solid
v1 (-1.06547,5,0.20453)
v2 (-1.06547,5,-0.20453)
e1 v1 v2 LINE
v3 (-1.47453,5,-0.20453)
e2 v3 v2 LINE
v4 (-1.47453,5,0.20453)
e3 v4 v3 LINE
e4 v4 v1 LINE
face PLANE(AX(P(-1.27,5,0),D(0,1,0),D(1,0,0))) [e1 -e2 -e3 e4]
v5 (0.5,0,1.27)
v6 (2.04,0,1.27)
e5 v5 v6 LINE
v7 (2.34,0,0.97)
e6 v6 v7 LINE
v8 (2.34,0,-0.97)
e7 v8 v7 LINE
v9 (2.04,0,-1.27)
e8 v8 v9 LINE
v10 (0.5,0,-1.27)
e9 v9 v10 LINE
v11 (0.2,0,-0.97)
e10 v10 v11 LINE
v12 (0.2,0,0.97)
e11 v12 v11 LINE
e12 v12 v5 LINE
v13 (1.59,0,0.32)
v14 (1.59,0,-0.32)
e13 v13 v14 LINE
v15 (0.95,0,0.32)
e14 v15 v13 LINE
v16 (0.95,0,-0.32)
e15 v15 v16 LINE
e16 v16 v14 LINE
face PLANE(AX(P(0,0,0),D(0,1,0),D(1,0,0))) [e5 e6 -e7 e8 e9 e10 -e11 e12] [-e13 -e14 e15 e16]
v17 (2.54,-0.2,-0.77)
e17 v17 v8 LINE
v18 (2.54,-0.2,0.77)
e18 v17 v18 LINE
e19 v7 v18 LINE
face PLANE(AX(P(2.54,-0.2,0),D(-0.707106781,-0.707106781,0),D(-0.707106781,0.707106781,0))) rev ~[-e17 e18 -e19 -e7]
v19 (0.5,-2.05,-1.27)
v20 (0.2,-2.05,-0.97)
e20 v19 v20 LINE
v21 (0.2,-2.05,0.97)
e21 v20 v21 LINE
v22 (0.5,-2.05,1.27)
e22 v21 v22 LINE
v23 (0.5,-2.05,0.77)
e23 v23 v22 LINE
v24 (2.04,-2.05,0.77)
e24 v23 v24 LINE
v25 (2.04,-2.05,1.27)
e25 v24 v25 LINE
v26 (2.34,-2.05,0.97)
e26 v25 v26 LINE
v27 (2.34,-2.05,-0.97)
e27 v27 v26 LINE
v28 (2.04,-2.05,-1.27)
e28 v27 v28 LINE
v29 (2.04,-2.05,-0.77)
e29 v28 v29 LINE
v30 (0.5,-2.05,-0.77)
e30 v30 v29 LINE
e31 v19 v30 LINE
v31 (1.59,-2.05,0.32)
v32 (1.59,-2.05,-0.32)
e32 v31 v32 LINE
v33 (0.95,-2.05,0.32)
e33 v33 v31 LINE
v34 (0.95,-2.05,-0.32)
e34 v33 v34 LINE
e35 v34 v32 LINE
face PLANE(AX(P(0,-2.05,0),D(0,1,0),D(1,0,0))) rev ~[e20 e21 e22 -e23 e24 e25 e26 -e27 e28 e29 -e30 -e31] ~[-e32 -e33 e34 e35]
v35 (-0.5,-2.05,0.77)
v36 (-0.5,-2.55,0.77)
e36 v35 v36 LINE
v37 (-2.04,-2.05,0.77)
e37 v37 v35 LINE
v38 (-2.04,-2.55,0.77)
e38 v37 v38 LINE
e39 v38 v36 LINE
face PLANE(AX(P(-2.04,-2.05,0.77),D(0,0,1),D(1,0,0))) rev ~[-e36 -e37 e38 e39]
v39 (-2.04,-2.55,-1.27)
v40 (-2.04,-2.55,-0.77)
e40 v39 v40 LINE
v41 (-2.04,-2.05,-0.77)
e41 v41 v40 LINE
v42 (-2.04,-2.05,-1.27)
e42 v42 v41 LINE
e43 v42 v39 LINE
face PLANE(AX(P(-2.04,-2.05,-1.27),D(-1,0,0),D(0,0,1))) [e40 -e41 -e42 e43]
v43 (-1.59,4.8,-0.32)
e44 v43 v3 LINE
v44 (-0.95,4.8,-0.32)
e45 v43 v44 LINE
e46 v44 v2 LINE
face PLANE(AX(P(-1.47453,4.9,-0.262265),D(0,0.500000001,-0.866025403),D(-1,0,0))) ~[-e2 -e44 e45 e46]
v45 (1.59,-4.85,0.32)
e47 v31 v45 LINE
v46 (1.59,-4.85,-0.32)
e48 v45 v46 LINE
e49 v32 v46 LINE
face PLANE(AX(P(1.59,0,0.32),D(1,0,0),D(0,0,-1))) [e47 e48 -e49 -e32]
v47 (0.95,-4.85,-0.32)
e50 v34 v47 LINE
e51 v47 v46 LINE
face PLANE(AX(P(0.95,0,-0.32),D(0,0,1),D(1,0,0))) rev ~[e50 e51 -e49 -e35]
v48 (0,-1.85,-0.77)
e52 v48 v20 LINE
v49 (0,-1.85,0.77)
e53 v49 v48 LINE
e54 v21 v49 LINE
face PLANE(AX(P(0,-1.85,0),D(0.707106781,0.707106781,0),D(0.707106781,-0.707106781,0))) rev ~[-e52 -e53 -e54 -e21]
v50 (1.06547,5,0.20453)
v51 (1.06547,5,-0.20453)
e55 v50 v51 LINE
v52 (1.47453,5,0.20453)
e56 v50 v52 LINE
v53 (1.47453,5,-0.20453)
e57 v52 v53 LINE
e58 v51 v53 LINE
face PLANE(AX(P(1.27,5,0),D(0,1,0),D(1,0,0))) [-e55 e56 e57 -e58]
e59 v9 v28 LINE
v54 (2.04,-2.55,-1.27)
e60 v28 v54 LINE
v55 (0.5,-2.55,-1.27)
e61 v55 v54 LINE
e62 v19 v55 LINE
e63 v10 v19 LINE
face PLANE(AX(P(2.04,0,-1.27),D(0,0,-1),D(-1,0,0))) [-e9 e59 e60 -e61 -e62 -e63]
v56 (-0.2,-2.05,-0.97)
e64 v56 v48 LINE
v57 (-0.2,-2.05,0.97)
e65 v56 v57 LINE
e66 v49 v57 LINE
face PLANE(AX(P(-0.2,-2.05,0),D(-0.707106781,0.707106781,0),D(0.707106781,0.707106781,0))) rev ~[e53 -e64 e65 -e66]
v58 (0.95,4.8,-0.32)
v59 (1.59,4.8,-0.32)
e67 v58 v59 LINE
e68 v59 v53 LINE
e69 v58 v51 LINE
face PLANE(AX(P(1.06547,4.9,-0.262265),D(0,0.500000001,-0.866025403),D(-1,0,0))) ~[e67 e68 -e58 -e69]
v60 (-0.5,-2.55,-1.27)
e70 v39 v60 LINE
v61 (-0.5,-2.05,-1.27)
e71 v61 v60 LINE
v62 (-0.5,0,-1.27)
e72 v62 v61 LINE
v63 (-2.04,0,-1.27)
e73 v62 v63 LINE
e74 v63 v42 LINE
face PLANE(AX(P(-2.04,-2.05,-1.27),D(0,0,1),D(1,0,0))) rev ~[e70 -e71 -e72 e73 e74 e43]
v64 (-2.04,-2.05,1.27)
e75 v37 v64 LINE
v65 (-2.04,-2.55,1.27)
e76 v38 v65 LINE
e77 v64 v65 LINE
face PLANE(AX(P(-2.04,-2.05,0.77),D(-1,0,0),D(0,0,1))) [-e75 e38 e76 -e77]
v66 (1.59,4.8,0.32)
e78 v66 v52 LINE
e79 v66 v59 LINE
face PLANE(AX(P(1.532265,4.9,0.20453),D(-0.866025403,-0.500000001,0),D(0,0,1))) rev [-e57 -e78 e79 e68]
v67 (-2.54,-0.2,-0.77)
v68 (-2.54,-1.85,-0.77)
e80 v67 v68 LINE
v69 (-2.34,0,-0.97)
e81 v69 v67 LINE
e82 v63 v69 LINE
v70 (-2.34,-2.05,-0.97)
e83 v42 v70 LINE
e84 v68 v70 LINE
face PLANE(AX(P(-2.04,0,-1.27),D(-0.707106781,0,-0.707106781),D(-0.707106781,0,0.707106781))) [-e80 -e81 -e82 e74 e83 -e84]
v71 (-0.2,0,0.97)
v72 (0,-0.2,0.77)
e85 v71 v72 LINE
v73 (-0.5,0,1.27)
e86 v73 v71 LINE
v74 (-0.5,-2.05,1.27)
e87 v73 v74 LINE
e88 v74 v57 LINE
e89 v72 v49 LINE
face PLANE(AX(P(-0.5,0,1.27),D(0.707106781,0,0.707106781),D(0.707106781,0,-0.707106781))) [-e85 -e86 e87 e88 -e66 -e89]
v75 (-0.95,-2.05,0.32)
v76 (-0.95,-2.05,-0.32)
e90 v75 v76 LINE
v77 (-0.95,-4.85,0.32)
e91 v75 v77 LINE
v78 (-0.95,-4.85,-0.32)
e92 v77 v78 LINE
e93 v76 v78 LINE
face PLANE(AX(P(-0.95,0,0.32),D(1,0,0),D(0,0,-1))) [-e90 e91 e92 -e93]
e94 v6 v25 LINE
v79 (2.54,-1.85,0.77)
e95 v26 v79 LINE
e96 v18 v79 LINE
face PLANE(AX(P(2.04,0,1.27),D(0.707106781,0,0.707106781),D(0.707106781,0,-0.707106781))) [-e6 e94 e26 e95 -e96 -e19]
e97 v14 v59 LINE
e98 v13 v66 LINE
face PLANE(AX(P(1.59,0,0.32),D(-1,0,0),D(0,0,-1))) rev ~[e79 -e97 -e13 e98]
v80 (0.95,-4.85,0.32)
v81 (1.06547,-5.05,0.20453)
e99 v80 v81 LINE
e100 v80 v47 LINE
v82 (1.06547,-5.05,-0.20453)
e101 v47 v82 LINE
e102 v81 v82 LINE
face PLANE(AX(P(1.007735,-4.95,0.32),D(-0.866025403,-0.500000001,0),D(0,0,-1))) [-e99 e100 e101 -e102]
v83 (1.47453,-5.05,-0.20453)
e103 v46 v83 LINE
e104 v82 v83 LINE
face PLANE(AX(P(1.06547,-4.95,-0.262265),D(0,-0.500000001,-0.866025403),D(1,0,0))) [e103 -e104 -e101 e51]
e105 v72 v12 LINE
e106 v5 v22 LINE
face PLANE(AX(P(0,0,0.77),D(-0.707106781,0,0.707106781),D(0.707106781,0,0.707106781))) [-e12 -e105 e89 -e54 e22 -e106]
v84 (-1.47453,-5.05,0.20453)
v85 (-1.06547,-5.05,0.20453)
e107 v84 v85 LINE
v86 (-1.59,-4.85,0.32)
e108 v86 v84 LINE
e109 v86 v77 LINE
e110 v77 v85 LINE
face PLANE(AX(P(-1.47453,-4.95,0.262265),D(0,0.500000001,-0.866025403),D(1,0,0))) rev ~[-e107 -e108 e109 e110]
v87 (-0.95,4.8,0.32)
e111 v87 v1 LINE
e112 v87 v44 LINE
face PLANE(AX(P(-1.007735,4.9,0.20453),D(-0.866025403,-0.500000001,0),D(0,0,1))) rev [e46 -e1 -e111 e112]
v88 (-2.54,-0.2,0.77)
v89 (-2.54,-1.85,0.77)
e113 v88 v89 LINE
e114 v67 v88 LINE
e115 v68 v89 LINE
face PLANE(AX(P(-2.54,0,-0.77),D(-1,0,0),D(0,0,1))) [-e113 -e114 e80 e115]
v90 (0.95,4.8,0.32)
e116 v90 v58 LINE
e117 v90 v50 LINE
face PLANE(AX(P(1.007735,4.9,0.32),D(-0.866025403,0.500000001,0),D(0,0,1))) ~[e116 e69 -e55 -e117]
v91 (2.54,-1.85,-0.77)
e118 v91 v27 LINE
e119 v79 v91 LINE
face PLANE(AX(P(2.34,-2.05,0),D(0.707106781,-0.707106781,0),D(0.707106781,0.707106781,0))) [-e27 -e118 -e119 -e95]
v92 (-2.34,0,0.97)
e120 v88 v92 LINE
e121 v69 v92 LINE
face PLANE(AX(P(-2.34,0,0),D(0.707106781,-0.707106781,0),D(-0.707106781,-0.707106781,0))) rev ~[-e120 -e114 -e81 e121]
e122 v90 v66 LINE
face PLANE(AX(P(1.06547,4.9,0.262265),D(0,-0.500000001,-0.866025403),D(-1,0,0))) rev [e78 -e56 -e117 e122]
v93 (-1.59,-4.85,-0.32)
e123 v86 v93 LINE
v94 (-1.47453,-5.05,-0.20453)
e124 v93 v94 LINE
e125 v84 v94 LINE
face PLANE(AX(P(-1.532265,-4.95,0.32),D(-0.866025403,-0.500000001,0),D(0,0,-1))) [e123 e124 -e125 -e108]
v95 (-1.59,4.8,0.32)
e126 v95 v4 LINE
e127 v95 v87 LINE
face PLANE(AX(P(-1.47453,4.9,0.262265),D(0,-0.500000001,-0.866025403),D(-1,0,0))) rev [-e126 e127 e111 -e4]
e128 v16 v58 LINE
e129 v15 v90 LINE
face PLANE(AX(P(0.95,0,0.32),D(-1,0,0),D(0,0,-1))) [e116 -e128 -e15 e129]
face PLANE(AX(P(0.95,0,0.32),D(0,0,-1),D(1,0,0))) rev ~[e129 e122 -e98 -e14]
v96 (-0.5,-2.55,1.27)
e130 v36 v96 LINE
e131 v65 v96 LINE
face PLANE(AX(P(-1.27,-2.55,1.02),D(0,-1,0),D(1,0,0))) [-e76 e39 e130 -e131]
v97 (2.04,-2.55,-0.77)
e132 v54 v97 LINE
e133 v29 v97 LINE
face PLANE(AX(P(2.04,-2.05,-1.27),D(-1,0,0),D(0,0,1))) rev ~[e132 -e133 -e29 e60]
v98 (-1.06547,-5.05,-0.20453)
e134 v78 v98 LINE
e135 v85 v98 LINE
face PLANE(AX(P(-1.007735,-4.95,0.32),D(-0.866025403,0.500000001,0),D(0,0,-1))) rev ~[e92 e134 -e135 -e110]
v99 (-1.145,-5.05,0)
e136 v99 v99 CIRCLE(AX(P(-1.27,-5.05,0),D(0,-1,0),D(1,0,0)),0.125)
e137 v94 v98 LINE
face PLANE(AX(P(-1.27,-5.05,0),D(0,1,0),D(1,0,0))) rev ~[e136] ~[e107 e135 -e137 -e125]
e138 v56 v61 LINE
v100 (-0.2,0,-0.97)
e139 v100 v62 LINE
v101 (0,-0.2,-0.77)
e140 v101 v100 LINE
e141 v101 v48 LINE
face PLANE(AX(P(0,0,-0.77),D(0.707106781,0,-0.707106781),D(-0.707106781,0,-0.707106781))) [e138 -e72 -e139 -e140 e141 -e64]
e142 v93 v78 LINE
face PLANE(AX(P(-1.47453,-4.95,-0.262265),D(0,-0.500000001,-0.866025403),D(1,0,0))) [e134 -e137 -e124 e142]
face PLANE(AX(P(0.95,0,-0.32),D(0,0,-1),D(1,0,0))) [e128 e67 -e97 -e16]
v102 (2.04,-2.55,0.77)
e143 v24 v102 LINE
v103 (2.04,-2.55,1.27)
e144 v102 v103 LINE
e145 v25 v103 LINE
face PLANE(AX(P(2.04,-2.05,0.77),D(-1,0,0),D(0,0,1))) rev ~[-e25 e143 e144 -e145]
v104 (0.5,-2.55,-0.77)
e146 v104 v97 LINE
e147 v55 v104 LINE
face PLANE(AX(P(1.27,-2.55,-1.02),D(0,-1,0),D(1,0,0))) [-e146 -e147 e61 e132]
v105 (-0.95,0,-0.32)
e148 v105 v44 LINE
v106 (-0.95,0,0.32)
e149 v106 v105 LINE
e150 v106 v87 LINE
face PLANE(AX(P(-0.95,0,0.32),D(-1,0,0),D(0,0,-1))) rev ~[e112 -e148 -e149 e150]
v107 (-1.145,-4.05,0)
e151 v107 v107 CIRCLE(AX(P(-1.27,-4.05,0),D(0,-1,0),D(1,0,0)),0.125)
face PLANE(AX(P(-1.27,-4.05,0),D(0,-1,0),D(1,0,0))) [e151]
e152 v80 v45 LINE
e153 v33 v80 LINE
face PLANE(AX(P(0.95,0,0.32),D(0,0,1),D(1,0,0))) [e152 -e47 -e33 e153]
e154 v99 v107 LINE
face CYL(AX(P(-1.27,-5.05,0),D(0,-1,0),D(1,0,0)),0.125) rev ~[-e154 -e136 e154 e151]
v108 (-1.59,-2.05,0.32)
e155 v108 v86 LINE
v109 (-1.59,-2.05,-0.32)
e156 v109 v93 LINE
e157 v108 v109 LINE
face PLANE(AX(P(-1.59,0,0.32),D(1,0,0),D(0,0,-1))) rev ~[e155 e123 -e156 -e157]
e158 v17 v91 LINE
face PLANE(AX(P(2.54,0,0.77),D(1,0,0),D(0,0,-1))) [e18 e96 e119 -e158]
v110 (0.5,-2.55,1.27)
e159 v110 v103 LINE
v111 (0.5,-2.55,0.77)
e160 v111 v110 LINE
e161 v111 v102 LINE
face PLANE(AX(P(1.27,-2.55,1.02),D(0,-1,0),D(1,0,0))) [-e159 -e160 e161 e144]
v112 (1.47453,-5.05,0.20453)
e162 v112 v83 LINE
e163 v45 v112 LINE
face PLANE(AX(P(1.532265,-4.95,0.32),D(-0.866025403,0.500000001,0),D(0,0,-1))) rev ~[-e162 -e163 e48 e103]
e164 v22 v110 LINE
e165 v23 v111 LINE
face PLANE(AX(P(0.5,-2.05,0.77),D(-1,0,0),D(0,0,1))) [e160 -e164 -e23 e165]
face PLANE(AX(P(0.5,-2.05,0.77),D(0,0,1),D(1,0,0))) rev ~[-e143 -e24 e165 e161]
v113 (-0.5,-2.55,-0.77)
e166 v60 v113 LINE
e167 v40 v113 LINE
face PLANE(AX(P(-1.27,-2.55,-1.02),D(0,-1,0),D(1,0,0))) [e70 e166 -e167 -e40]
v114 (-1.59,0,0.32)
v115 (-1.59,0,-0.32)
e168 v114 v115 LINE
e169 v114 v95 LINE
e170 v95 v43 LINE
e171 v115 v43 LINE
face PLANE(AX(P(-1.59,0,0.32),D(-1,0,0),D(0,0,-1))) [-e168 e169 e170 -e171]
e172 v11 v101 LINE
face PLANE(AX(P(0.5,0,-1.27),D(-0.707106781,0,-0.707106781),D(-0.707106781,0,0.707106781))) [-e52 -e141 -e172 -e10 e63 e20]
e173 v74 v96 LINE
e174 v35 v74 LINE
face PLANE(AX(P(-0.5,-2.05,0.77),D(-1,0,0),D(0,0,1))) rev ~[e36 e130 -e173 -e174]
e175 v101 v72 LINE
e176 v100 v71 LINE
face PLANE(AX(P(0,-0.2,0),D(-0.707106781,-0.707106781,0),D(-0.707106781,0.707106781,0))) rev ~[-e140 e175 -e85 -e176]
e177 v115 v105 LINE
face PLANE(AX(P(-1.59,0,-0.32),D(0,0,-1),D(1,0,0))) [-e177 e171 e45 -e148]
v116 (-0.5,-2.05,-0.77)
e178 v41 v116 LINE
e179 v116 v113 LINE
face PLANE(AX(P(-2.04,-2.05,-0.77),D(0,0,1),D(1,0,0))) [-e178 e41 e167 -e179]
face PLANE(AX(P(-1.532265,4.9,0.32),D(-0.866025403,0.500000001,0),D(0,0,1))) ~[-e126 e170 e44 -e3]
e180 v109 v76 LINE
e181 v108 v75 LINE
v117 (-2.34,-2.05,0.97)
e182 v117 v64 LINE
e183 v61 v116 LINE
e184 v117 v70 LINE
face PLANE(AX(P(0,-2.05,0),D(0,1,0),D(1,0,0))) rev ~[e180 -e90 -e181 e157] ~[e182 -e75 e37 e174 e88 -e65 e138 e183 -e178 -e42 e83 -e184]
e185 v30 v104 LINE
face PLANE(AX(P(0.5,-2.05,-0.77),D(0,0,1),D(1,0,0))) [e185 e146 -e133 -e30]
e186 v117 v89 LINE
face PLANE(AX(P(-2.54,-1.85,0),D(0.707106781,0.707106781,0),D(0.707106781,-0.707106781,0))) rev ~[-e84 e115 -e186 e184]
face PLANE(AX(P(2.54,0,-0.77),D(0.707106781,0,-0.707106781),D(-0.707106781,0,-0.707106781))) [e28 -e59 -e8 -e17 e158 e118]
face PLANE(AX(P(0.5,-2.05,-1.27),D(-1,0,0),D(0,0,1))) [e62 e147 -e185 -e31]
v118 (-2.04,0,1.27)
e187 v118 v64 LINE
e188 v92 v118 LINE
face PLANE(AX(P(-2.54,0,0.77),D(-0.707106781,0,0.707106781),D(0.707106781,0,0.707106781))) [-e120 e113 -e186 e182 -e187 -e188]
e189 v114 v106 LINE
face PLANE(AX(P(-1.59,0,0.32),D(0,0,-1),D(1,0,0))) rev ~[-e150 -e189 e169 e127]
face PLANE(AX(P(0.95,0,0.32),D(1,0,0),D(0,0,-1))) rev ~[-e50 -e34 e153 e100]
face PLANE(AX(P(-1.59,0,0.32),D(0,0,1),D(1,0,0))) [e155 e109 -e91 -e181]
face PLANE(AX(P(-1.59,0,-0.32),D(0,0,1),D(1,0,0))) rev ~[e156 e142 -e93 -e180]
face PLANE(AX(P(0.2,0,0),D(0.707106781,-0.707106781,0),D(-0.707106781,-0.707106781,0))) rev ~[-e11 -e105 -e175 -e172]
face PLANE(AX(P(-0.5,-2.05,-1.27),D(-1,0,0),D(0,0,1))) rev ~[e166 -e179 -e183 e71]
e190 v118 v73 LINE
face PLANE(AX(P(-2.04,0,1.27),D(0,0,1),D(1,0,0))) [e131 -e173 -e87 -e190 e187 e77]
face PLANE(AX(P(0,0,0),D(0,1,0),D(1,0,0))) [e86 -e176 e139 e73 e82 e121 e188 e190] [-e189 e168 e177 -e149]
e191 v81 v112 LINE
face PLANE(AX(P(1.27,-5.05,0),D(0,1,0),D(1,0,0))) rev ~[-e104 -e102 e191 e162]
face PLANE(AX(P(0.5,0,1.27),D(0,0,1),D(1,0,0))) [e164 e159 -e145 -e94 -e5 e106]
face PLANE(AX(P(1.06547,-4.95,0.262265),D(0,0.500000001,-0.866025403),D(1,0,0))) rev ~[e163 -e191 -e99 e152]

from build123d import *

# Parameters (mm, degrees)
SKETCH1_W                = 0.64
SKETCH1_H                = 0.64
BOSS_EXTRUDE1_DEPTH      = 2.05
CUT_EXTRUDE1_DEPTH       = 5
SKETCH3_W                = 1.54
SKETCH3_H                = 0.5
BOSS_EXTRUDE2_DEPTH      = 0.5
SKETCH4_W                = 0.64
SKETCH4_H                = 0.64
BOSS_EXTRUDE3_DEPTH      = 5
BOSS_EXTRUDE3_DEPTH_BACK = 5.05
CHAMFER1_SIZE            = 0.2
CHAMFER1_SIZE2           = 0.115470054
CHAMFER1_PART_2_SIZE     = 0.2
CHAMFER1_PART_2_SIZE2    = 0.115470054
CHAMFER1_PART_3_SIZE     = 0.2
CHAMFER1_PART_3_SIZE2    = 0.115470054
CHAMFER1_PART_4_SIZE     = 0.2
CHAMFER1_PART_4_SIZE2    = 0.115470054
CHAMFER1_PART_5_SIZE     = 0.2
CHAMFER1_PART_5_SIZE2    = 0.115470054
CHAMFER1_PART_6_SIZE     = 0.2
CHAMFER1_PART_6_SIZE2    = 0.115470054
CHAMFER1_PART_7_SIZE     = 0.2
CHAMFER1_PART_7_SIZE2    = 0.115470054
CHAMFER1_PART_8_SIZE     = 0.2
CHAMFER1_PART_8_SIZE2    = 0.115470054
CHAMFER1_PART_9_SIZE     = 0.2
CHAMFER1_PART_9_SIZE2    = 0.115470054
CHAMFER1_PART_10_SIZE    = 0.2
CHAMFER1_PART_10_SIZE2   = 0.115470054
CHAMFER1_PART_11_SIZE    = 0.2
CHAMFER1_PART_11_SIZE2   = 0.115470054
CHAMFER1_PART_12_SIZE    = 0.2
CHAMFER1_PART_12_SIZE2   = 0.115470054
CHAMFER1_PART_13_SIZE    = 0.2
CHAMFER1_PART_13_SIZE2   = 0.115470054
CHAMFER1_PART_14_SIZE    = 0.2
CHAMFER1_PART_14_SIZE2   = 0.115470054
CHAMFER1_PART_15_SIZE    = 0.2
CHAMFER1_PART_15_SIZE2   = 0.115470054
CHAMFER1_PART_16_SIZE    = 0.2
CHAMFER1_PART_16_SIZE2   = 0.115470054
SKETCH5_R                = 0.125
CUT_EXTRUDE2_DEPTH       = 1


with BuildPart() as part:
    # Sketch1 → Boss-Extrude1 (new body)
    with BuildSketch(Plane(origin=(0, 0, 0), x_dir=(1, 0, 0), z_dir=(0, 1, 0))):
        Polygon((-2.04, -1.27), (-0.5, -1.27), (0, -0.77), (0.5, -1.27), (2.04, -1.27), (2.54, -0.77), (2.54, 0.77), (2.04, 1.27), (0.5, 1.27), (0, 0.77), (-0.5, 1.27), (-2.04, 1.27), (-2.54, 0.77), (-2.54, -0.77), align=None)
        with Locations((1.27, 0)):
            Rectangle(SKETCH1_W, SKETCH1_H, mode=Mode.SUBTRACT)
        with Locations((-1.27, 0)):
            Rectangle(SKETCH1_W, SKETCH1_H, mode=Mode.SUBTRACT)
    extrude(amount=-BOSS_EXTRUDE1_DEPTH)

    # Sketch2 → Cut-Extrude1 (cut, symmetric)
    with BuildSketch(Plane.XY):
        Polygon((-2.54, -0.2), (-2.54, 0), (-2.34, 0), align=None)
        Polygon((-0.2, 0), (0.2, 0), (0, -0.2), align=None)
        Polygon((2.34, 0), (2.54, 0), (2.54, -0.2), align=None)
        Polygon((-2.54, -1.85), (-2.34, -2.05), (-2.54, -2.05), align=None)
        Polygon((-0.2, -2.05), (0, -1.85), (0.2, -2.05), align=None)
        Polygon((2.34, -2.05), (2.54, -1.85), (2.54, -2.05), align=None)
    extrude(amount=CUT_EXTRUDE1_DEPTH, both=True, mode=Mode.SUBTRACT)

    # Sketch3 → Boss-Extrude2 (add)
    with BuildSketch(Plane.XZ.offset(2.05)):
        with Locations((-1.27, -1.02)):
            Rectangle(SKETCH3_W, SKETCH3_H)
        with Locations((-1.27, 1.02)):
            Rectangle(SKETCH3_W, SKETCH3_H)
        with Locations((1.27, 1.02)):
            Rectangle(SKETCH3_W, SKETCH3_H)
        with Locations((1.27, -1.02)):
            Rectangle(SKETCH3_W, SKETCH3_H)
    extrude(amount=BOSS_EXTRUDE2_DEPTH)

    # Sketch4 → Boss-Extrude3 (add, two sides)
    with BuildSketch(Plane(origin=(0, 0, 0), x_dir=(1, 0, 0), z_dir=(0, 1, 0))) as boss_extrude3_sk:
        with Locations((-1.27, 0)):
            Rectangle(SKETCH4_W, SKETCH4_H)
        with Locations((1.27, 0)):
            Rectangle(SKETCH4_W, SKETCH4_H)
    extrude(amount=BOSS_EXTRUDE3_DEPTH)
    extrude(boss_extrude3_sk.sketch, amount=-BOSS_EXTRUDE3_DEPTH_BACK)

    # Chamfer1
    chamfer1_edges = [part.edges().sort_by_distance(p)[0] for p in [
        (-1.59, -5.05, 0),
    ]]
    chamfer1_side = [part.faces().sort_by_distance(p)[0] for p in [
        (-1.59, -3.55, 0),
    ]]
    chamfer(chamfer1_edges, length=CHAMFER1_SIZE, length2=CHAMFER1_SIZE2, reference=chamfer1_side[0])

    # Chamfer1 part 2
    chamfer1_part_2_edges = [part.edges().sort_by_distance(p)[0] for p in [
        (-1.27, -5.05, -0.32),
    ]]
    chamfer1_part_2_side = [part.faces().sort_by_distance(p)[0] for p in [
        (-1.27, -3.55, -0.32),
    ]]
    chamfer(chamfer1_part_2_edges, length=CHAMFER1_PART_2_SIZE, length2=CHAMFER1_PART_2_SIZE2, reference=chamfer1_part_2_side[0])

    # Chamfer1 part 3
    chamfer1_part_3_edges = [part.edges().sort_by_distance(p)[0] for p in [
        (-0.95, -5.05, 0),
    ]]
    chamfer1_part_3_side = [part.faces().sort_by_distance(p)[0] for p in [
        (-0.95, -3.55, 0),
    ]]
    chamfer(chamfer1_part_3_edges, length=CHAMFER1_PART_3_SIZE, length2=CHAMFER1_PART_3_SIZE2, reference=chamfer1_part_3_side[0])

    # Chamfer1 part 4
    chamfer1_part_4_edges = [part.edges().sort_by_distance(p)[0] for p in [
        (-1.27, -5.05, 0.32),
    ]]
    chamfer1_part_4_side = [part.faces().sort_by_distance(p)[0] for p in [
        (-1.27, -3.55, 0.32),
    ]]
    chamfer(chamfer1_part_4_edges, length=CHAMFER1_PART_4_SIZE, length2=CHAMFER1_PART_4_SIZE2, reference=chamfer1_part_4_side[0])

    # Chamfer1 part 5
    chamfer1_part_5_edges = [part.edges().sort_by_distance(p)[0] for p in [
        (-1.59, 5, 0),
    ]]
    chamfer1_part_5_side = [part.faces().sort_by_distance(p)[0] for p in [
        (-1.59, 2.5, 0),
    ]]
    chamfer(chamfer1_part_5_edges, length=CHAMFER1_PART_5_SIZE, length2=CHAMFER1_PART_5_SIZE2, reference=chamfer1_part_5_side[0])

    # Chamfer1 part 6
    chamfer1_part_6_edges = [part.edges().sort_by_distance(p)[0] for p in [
        (-1.27, 5, 0.32),
    ]]
    chamfer1_part_6_side = [part.faces().sort_by_distance(p)[0] for p in [
        (-1.27, 2.5, 0.32),
    ]]
    chamfer(chamfer1_part_6_edges, length=CHAMFER1_PART_6_SIZE, length2=CHAMFER1_PART_6_SIZE2, reference=chamfer1_part_6_side[0])

    # Chamfer1 part 7
    chamfer1_part_7_edges = [part.edges().sort_by_distance(p)[0] for p in [
        (-0.95, 5, 0),
    ]]
    chamfer1_part_7_side = [part.faces().sort_by_distance(p)[0] for p in [
        (-0.95, 2.5, 0),
    ]]
    chamfer(chamfer1_part_7_edges, length=CHAMFER1_PART_7_SIZE, length2=CHAMFER1_PART_7_SIZE2, reference=chamfer1_part_7_side[0])

    # Chamfer1 part 8
    chamfer1_part_8_edges = [part.edges().sort_by_distance(p)[0] for p in [
        (-1.27, 5, -0.32),
    ]]
    chamfer1_part_8_side = [part.faces().sort_by_distance(p)[0] for p in [
        (-1.27, 2.5, -0.32),
    ]]
    chamfer(chamfer1_part_8_edges, length=CHAMFER1_PART_8_SIZE, length2=CHAMFER1_PART_8_SIZE2, reference=chamfer1_part_8_side[0])

    # Chamfer1 part 9
    chamfer1_part_9_edges = [part.edges().sort_by_distance(p)[0] for p in [
        (0.95, -5.05, 0),
    ]]
    chamfer1_part_9_side = [part.faces().sort_by_distance(p)[0] for p in [
        (0.95, -3.55, 0),
    ]]
    chamfer(chamfer1_part_9_edges, length=CHAMFER1_PART_9_SIZE, length2=CHAMFER1_PART_9_SIZE2, reference=chamfer1_part_9_side[0])

    # Chamfer1 part 10
    chamfer1_part_10_edges = [part.edges().sort_by_distance(p)[0] for p in [
        (1.27, -5.05, -0.32),
    ]]
    chamfer1_part_10_side = [part.faces().sort_by_distance(p)[0] for p in [
        (1.27, -3.55, -0.32),
    ]]
    chamfer(chamfer1_part_10_edges, length=CHAMFER1_PART_10_SIZE, length2=CHAMFER1_PART_10_SIZE2, reference=chamfer1_part_10_side[0])

    # Chamfer1 part 11
    chamfer1_part_11_edges = [part.edges().sort_by_distance(p)[0] for p in [
        (1.59, -5.05, 0),
    ]]
    chamfer1_part_11_side = [part.faces().sort_by_distance(p)[0] for p in [
        (1.59, -3.55, 0),
    ]]
    chamfer(chamfer1_part_11_edges, length=CHAMFER1_PART_11_SIZE, length2=CHAMFER1_PART_11_SIZE2, reference=chamfer1_part_11_side[0])

    # Chamfer1 part 12
    chamfer1_part_12_edges = [part.edges().sort_by_distance(p)[0] for p in [
        (1.27, -5.05, 0.32),
    ]]
    chamfer1_part_12_side = [part.faces().sort_by_distance(p)[0] for p in [
        (1.27, -3.55, 0.32),
    ]]
    chamfer(chamfer1_part_12_edges, length=CHAMFER1_PART_12_SIZE, length2=CHAMFER1_PART_12_SIZE2, reference=chamfer1_part_12_side[0])

    # Chamfer1 part 13
    chamfer1_part_13_edges = [part.edges().sort_by_distance(p)[0] for p in [
        (0.95, 5, 0),
    ]]
    chamfer1_part_13_side = [part.faces().sort_by_distance(p)[0] for p in [
        (0.95, 2.5, 0),
    ]]
    chamfer(chamfer1_part_13_edges, length=CHAMFER1_PART_13_SIZE, length2=CHAMFER1_PART_13_SIZE2, reference=chamfer1_part_13_side[0])

    # Chamfer1 part 14
    chamfer1_part_14_edges = [part.edges().sort_by_distance(p)[0] for p in [
        (1.27, 5, 0.32),
    ]]
    chamfer1_part_14_side = [part.faces().sort_by_distance(p)[0] for p in [
        (1.27, 2.5, 0.32),
    ]]
    chamfer(chamfer1_part_14_edges, length=CHAMFER1_PART_14_SIZE, length2=CHAMFER1_PART_14_SIZE2, reference=chamfer1_part_14_side[0])

    # Chamfer1 part 15
    chamfer1_part_15_edges = [part.edges().sort_by_distance(p)[0] for p in [
        (1.59, 5, 0),
    ]]
    chamfer1_part_15_side = [part.faces().sort_by_distance(p)[0] for p in [
        (1.59, 2.5, 0),
    ]]
    chamfer(chamfer1_part_15_edges, length=CHAMFER1_PART_15_SIZE, length2=CHAMFER1_PART_15_SIZE2, reference=chamfer1_part_15_side[0])

    # Chamfer1 part 16
    chamfer1_part_16_edges = [part.edges().sort_by_distance(p)[0] for p in [
        (1.27, 5, -0.32),
    ]]
    chamfer1_part_16_side = [part.faces().sort_by_distance(p)[0] for p in [
        (1.27, 2.5, -0.32),
    ]]
    chamfer(chamfer1_part_16_edges, length=CHAMFER1_PART_16_SIZE, length2=CHAMFER1_PART_16_SIZE2, reference=chamfer1_part_16_side[0])

    # Sketch5 → Cut-Extrude2 (cut)
    with BuildSketch(Plane.XZ.offset(5.05)):
        with Locations((-1.27, 0)):
            Circle(SKETCH5_R)
    extrude(amount=-CUT_EXTRUDE2_DEPTH, mode=Mode.SUBTRACT)


solid = part.part
